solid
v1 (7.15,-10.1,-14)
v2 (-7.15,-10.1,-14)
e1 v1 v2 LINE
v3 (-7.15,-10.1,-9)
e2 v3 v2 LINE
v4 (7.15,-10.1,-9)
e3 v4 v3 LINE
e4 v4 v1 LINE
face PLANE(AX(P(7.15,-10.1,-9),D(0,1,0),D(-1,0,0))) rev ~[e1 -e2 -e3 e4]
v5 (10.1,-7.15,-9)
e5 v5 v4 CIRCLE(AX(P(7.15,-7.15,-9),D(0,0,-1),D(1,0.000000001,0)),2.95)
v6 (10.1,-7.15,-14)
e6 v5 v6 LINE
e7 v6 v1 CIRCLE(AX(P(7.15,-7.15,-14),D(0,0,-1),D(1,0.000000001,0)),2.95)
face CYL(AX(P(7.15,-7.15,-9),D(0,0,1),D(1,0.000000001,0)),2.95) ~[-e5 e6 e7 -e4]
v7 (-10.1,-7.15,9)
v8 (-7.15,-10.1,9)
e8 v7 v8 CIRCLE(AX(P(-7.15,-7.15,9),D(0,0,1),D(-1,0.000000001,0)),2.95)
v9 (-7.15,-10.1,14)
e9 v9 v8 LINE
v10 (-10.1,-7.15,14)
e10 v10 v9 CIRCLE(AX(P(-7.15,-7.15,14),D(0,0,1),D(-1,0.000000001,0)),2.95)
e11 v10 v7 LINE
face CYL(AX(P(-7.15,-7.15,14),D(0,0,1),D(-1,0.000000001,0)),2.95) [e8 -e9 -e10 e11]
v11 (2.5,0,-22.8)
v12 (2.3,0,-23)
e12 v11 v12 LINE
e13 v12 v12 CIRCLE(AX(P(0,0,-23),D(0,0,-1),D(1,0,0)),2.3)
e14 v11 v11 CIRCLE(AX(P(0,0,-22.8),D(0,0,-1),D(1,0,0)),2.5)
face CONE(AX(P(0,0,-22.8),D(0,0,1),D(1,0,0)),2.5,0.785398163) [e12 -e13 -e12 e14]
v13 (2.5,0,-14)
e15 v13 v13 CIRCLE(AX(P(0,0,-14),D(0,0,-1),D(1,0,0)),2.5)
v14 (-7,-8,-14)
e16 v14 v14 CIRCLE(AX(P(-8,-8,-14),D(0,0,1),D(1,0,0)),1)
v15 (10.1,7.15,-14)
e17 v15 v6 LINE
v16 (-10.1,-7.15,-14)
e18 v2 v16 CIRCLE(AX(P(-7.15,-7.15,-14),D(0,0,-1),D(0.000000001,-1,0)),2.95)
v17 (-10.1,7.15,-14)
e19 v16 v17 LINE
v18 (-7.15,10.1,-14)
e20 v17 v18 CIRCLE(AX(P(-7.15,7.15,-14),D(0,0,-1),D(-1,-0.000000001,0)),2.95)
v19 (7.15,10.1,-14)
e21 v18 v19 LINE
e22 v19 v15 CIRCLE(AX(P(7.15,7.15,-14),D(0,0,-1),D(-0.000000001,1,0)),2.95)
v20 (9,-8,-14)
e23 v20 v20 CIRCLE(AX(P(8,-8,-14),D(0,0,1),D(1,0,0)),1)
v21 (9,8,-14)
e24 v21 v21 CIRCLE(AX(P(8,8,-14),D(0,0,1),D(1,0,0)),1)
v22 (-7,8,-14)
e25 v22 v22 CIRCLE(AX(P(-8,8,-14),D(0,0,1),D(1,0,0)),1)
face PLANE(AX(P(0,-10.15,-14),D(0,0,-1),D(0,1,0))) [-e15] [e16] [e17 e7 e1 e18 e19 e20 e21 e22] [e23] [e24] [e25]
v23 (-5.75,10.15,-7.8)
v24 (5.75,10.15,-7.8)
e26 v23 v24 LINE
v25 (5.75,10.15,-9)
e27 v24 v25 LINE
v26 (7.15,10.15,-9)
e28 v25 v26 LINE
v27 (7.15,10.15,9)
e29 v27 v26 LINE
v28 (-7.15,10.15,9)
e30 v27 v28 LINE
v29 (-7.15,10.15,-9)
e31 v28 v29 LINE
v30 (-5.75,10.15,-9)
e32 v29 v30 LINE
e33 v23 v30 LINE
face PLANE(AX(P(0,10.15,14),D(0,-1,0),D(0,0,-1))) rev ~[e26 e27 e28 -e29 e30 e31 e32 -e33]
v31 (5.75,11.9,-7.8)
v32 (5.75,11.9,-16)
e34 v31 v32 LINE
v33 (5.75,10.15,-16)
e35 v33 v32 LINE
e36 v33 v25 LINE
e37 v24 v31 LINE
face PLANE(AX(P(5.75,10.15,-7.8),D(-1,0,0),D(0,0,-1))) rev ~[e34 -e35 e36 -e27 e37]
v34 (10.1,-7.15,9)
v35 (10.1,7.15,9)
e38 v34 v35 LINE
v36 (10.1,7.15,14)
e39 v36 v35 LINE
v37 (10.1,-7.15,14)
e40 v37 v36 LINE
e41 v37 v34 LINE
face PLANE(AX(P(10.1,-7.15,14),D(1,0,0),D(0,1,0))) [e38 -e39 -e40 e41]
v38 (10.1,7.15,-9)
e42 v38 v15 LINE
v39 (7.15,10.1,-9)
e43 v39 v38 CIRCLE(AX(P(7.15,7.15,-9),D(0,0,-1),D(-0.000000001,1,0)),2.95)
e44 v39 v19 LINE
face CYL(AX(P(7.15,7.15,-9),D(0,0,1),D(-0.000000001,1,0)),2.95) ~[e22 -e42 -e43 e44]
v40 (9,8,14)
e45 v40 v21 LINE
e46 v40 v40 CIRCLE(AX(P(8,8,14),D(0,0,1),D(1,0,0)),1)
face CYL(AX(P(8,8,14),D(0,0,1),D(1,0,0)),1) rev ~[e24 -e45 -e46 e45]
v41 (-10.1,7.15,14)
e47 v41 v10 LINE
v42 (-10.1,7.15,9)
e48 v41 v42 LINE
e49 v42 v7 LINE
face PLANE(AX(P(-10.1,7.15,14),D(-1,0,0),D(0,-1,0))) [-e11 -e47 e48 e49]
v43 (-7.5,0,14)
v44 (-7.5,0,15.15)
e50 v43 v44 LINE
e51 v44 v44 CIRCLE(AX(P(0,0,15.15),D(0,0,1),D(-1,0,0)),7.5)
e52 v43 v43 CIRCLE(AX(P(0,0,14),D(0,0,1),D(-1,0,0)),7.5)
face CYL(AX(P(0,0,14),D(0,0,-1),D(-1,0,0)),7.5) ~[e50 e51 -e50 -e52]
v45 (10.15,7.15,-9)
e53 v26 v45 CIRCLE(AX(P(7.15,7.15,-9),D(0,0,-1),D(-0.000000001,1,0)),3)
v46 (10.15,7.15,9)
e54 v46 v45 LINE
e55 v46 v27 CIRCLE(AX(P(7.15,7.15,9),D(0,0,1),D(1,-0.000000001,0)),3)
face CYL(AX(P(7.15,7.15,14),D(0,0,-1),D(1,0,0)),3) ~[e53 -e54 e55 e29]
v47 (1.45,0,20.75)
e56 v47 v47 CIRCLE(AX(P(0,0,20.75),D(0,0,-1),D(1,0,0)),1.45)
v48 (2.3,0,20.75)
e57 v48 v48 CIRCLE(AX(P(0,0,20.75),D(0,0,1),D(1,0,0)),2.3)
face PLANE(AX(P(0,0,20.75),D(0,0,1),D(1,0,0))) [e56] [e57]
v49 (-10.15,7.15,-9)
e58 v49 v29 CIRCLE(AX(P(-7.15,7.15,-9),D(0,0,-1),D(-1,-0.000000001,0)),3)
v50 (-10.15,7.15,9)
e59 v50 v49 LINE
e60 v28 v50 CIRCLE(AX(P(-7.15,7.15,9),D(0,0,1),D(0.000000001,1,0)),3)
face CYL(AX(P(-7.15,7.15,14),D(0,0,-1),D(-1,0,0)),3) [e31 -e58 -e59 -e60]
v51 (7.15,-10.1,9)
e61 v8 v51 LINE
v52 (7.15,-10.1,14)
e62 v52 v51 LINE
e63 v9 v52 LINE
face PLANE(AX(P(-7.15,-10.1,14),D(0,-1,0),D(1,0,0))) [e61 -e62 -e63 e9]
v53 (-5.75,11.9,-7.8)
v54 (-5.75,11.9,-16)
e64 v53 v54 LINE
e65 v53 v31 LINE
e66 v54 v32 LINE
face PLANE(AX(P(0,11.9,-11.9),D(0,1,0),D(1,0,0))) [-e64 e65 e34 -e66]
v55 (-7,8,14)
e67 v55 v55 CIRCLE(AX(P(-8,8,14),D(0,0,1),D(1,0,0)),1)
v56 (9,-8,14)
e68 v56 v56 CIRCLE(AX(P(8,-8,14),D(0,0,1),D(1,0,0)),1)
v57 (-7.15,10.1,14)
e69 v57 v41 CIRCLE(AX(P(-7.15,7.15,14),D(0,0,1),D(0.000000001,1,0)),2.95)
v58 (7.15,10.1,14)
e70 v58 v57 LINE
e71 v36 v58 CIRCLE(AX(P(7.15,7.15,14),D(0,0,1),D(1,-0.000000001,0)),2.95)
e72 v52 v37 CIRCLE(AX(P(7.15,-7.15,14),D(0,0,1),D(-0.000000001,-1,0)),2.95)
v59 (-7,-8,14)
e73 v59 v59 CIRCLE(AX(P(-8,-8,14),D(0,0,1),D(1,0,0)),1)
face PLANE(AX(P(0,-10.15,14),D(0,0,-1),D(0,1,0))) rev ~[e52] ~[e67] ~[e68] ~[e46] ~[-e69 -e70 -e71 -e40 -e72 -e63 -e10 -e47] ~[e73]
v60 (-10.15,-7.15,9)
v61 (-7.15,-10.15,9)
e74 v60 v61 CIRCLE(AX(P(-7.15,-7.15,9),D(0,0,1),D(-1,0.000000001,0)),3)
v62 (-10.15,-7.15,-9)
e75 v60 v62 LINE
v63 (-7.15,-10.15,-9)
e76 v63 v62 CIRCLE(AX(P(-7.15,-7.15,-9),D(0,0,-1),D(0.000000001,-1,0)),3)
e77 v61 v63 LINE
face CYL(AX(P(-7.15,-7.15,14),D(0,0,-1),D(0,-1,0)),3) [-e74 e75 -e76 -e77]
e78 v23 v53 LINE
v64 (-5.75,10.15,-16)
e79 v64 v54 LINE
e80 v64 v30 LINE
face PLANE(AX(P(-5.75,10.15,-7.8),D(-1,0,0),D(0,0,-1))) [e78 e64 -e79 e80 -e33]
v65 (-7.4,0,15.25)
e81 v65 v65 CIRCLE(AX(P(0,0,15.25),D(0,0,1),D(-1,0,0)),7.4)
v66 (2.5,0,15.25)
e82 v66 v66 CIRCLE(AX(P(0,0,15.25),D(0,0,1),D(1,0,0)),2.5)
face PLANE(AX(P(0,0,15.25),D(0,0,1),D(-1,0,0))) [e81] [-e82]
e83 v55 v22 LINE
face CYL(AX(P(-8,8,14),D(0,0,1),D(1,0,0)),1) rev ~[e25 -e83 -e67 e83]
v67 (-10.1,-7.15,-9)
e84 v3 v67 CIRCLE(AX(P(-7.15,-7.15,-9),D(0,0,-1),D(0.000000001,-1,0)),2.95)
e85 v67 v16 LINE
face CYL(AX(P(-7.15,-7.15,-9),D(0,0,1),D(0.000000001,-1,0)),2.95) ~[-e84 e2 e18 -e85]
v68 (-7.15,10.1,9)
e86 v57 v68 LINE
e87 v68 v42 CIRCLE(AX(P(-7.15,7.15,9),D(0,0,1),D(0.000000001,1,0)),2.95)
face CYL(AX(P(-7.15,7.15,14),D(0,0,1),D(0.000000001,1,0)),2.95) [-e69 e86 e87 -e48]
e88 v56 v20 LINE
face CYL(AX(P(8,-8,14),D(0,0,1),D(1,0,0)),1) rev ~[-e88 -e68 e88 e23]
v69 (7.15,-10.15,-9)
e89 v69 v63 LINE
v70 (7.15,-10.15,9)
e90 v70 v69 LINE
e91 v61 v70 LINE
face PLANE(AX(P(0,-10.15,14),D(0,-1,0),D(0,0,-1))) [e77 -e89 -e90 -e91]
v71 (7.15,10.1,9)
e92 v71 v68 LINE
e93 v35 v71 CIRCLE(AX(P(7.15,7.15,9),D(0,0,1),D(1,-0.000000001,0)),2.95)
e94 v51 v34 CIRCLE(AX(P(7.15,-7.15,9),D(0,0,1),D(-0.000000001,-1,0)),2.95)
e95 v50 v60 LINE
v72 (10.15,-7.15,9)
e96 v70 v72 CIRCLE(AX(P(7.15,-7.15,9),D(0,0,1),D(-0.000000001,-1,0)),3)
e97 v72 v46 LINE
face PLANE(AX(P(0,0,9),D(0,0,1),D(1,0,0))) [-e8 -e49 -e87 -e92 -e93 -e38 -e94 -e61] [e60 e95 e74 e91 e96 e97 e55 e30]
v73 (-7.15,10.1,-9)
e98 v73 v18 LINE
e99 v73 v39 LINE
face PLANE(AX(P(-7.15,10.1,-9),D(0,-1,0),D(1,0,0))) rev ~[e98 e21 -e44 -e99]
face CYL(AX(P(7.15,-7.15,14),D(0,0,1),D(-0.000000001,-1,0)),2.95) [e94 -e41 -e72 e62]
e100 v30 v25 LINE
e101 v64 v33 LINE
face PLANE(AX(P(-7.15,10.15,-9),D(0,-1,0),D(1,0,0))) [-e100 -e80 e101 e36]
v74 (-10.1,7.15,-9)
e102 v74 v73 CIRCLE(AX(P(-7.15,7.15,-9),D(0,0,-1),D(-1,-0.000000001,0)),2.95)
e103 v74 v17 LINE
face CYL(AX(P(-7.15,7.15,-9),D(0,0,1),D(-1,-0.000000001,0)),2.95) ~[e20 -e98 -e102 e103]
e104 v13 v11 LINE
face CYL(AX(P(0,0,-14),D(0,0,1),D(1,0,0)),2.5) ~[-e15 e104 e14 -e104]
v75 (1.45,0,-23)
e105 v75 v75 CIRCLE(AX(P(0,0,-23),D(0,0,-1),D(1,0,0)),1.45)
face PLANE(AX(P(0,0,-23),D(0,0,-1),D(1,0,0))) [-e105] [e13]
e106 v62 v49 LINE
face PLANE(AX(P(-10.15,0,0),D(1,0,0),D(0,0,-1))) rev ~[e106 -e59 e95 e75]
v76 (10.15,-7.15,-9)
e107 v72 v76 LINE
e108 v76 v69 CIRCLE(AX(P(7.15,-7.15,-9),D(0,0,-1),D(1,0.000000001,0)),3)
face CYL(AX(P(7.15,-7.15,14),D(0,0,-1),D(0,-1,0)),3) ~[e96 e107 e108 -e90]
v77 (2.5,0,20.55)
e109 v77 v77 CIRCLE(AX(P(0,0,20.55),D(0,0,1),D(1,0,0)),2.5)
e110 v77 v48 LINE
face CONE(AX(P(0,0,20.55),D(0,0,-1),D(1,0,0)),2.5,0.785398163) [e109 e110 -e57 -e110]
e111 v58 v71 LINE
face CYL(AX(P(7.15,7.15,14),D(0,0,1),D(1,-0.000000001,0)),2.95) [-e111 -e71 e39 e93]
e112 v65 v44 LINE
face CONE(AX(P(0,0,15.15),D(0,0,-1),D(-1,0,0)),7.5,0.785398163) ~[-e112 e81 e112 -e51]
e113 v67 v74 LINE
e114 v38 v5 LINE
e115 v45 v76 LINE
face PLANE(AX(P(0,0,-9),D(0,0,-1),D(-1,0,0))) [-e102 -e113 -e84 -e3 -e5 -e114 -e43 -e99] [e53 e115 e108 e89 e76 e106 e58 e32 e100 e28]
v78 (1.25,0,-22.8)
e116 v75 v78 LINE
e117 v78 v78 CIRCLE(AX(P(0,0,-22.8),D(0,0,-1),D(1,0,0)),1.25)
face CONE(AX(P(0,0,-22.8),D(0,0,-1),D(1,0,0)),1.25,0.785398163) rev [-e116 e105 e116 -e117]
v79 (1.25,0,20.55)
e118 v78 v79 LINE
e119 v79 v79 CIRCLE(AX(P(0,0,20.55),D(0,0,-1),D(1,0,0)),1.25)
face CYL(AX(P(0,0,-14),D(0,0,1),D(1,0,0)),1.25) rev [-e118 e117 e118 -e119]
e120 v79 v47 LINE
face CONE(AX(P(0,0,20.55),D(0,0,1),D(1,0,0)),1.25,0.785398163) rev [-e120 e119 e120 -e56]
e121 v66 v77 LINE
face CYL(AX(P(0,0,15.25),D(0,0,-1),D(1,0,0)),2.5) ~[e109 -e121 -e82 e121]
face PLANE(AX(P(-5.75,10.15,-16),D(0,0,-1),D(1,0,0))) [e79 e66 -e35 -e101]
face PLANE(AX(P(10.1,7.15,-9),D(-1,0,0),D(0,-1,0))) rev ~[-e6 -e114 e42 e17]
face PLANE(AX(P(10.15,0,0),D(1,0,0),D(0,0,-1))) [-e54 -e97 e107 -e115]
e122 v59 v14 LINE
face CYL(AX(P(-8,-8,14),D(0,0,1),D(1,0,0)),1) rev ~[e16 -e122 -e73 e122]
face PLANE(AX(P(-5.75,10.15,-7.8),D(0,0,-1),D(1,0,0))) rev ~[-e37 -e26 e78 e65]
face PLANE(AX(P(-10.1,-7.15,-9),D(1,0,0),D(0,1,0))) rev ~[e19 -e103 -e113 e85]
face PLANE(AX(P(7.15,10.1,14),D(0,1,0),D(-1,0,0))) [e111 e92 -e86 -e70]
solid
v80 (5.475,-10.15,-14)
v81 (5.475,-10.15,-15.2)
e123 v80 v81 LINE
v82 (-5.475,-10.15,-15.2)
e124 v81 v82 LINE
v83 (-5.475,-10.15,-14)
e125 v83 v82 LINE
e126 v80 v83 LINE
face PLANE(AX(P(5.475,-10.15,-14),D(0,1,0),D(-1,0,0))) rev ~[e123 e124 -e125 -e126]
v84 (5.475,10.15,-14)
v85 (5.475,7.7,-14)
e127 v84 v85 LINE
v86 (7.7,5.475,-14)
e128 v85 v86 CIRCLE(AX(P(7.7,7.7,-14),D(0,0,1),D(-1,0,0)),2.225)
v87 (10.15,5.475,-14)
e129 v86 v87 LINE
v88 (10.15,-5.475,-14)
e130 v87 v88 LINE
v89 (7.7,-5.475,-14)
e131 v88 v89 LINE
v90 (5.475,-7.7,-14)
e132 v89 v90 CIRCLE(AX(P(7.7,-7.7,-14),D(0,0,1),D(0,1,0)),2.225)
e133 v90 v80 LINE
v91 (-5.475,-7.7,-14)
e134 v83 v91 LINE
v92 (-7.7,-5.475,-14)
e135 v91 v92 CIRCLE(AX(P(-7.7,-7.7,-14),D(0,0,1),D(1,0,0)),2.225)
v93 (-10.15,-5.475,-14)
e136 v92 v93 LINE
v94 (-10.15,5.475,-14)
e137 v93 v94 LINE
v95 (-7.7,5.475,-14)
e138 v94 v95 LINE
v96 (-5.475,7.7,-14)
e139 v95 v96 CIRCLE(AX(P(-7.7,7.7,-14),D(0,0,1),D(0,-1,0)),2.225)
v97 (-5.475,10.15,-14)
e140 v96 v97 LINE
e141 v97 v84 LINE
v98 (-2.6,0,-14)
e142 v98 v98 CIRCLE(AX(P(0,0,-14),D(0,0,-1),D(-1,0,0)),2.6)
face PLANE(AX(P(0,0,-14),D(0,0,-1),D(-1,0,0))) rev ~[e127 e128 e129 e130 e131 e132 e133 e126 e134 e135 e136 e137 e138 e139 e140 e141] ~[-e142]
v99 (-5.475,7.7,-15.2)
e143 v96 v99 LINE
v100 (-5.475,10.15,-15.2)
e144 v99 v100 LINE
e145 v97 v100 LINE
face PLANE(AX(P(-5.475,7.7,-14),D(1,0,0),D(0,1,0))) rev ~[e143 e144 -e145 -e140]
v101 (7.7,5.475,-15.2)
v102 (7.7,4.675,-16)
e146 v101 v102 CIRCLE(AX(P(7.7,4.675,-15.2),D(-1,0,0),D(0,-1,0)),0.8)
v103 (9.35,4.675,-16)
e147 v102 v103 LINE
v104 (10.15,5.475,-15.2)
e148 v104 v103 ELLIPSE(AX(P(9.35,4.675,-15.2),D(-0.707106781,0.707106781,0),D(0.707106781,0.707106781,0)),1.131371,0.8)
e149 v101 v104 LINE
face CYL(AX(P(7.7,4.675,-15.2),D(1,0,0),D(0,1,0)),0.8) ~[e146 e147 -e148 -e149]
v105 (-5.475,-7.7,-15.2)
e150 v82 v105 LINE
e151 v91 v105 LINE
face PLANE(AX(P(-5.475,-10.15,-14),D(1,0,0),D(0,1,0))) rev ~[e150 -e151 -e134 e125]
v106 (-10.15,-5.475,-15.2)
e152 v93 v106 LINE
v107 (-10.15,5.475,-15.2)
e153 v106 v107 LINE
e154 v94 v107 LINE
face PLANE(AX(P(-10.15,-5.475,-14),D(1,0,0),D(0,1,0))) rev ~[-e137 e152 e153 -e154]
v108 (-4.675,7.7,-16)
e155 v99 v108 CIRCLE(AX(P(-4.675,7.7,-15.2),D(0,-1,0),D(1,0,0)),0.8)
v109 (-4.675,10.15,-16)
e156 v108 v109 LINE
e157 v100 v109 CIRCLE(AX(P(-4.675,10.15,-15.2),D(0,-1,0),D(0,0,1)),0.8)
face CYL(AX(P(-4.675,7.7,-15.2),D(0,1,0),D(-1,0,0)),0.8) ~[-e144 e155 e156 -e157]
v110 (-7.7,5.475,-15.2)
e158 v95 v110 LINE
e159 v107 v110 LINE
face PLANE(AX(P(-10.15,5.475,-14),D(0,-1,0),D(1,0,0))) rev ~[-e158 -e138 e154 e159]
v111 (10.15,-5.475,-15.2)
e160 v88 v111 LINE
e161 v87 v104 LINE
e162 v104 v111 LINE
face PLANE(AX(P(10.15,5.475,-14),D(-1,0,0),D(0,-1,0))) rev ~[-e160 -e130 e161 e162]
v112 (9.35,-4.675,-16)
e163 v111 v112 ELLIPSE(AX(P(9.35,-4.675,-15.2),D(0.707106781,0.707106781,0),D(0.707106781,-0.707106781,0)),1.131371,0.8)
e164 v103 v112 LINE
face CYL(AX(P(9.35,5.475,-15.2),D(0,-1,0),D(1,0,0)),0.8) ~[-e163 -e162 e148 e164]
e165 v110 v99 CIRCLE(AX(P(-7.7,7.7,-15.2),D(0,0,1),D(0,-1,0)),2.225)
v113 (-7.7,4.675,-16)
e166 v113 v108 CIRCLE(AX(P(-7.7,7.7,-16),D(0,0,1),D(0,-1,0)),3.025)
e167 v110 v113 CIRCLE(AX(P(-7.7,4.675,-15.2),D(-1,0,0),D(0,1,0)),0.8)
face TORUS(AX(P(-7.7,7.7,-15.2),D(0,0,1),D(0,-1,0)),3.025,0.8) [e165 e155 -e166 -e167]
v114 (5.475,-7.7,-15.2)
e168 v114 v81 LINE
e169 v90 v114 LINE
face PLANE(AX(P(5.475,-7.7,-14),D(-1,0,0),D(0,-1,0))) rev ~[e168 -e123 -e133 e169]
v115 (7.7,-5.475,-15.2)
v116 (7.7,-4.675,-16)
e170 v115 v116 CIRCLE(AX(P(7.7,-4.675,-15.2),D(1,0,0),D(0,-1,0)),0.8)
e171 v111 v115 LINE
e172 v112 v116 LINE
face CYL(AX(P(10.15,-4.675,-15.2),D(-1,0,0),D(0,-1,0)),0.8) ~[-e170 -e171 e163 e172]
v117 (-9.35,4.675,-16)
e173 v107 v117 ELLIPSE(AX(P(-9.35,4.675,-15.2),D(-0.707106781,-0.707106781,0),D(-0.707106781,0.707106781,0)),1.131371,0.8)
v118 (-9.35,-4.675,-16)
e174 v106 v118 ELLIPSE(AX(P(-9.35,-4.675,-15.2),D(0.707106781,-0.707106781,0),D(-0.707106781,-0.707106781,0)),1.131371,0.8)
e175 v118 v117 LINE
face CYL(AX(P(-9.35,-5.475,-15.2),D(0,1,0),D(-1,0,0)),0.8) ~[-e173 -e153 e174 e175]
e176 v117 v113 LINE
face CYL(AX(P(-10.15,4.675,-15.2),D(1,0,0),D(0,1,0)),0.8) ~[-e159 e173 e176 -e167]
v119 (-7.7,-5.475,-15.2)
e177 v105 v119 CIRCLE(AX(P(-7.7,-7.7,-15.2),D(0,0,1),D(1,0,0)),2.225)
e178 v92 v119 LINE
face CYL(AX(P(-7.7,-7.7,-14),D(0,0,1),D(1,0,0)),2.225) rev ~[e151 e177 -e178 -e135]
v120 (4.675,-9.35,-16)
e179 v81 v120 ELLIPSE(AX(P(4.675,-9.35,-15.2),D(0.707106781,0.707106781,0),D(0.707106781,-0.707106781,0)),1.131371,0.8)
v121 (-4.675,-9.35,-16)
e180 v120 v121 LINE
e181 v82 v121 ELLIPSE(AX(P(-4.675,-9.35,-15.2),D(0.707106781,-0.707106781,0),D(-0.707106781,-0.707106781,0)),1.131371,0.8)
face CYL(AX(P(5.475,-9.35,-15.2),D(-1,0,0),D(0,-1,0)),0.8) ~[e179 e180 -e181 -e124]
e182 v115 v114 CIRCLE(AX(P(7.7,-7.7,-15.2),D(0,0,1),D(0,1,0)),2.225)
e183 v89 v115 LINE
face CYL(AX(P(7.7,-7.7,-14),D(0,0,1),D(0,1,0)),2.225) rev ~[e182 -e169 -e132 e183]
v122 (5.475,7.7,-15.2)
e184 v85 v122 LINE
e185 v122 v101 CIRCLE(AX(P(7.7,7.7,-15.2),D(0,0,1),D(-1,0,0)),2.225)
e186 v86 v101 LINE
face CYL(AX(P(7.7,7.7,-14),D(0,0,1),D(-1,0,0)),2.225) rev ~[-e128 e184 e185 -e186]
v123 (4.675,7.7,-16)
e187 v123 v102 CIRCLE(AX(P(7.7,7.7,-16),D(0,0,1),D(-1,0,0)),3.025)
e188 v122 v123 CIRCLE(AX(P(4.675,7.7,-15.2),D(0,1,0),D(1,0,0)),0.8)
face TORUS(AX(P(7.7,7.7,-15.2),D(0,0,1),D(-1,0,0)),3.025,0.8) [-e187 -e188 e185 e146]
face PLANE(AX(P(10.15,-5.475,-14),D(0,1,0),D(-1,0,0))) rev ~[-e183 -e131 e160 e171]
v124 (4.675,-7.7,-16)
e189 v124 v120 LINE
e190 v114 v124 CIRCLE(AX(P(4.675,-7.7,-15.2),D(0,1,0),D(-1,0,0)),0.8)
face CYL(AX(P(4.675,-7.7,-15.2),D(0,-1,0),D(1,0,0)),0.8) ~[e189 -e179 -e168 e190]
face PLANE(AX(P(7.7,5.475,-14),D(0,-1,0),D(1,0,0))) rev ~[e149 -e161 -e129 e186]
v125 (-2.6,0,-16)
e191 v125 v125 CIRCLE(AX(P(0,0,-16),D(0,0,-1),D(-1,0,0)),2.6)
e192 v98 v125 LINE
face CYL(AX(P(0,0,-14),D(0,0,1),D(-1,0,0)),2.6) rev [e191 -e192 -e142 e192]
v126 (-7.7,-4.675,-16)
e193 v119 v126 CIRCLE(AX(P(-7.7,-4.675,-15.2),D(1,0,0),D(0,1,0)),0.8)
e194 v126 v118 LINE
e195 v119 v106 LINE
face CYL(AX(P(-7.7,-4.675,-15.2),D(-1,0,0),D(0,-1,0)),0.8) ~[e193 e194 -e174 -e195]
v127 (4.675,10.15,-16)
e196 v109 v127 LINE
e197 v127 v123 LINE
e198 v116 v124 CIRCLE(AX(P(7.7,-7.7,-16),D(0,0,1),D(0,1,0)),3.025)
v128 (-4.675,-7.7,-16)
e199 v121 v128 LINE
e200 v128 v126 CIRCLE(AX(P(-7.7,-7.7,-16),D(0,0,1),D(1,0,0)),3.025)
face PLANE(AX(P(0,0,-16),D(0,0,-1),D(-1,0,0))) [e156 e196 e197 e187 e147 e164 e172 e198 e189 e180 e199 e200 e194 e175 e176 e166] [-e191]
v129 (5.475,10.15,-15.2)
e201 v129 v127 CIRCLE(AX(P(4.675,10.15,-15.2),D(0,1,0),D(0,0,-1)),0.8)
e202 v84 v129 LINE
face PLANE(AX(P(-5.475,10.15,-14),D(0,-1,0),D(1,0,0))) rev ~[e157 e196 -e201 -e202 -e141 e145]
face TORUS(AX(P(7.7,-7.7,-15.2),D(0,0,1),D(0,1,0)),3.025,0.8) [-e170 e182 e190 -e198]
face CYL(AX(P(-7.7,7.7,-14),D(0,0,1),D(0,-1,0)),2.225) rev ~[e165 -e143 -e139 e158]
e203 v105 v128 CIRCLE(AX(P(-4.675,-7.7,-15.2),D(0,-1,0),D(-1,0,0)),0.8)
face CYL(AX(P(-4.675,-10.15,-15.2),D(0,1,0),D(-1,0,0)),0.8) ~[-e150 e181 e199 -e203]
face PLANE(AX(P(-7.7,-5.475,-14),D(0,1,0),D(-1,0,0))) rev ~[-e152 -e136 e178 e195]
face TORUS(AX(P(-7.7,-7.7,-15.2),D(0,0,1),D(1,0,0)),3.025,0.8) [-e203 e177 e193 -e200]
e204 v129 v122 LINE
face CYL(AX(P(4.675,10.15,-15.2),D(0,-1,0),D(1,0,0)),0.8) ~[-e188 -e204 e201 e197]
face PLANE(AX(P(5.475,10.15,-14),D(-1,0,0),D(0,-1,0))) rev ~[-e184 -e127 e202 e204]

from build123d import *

# Parameters (mm, degrees)
SKETCH1_W               = 28
SKETCH1_H               = 20.3
BOSS_EXTRUDE1_DEPTH     = 10.15
SKETCH2_R               = 7.5
BOSS_EXTRUDE2_DEPTH     = 1.25
SKETCH3_R               = 2.5
BOSS_EXTRUDE3_DEPTH     = 5.5
CUT_EXTRUDE1_DEPTH      = 38.59797202
CUT_EXTRUDE1_DEPTH_BACK = 38.59797202
SKETCH4_R               = 1.25
CHAMFER1_SIZE           = 0.2
SKETCH6_R               = 2.5
SKETCH6_R_2             = 1.25
BOSS_EXTRUDE4_DEPTH     = 9
CHAMFER4_SIZE           = 0.2
SKETCH7_R               = 1
CUT_EXTRUDE2_DEPTH      = 40.686836609
FILLET1_R               = 3
SKETCH10_R              = 2.6
BOSS_EXTRUDE5_DEPTH     = 2
FILLET2_R               = 0.8
SKETCH13_W              = 11.5
SKETCH13_H              = 8.2
BOSS_EXTRUDE7_DEPTH     = 1.75
CUT_EXTRUDE5_DEPTH      = 5
CUT_EXTRUDE6_START      = -5
CUT_EXTRUDE6_DEPTH      = 5
CHAMFER5_SIZE           = 0.1


with BuildPart() as part:
    # Sketch1 → Boss-Extrude1 (new, symmetric)
    with BuildSketch(Plane(origin=(0, 0, 0), x_dir=(0, 0, -1), z_dir=(1, 0, 0))):
        Rectangle(SKETCH1_W, SKETCH1_H)
    extrude(amount=BOSS_EXTRUDE1_DEPTH, both=True)

    # Sketch2 → Boss-Extrude2 (add)
    with BuildSketch(Plane.XY.offset(14)):
        with Locations(Location((0, 0, 0), (0, 0, 180))):
            Circle(SKETCH2_R)
    extrude(amount=BOSS_EXTRUDE2_DEPTH)

    # Sketch3 → Boss-Extrude3 (add)
    with BuildSketch(Plane.XY.offset(15.25)):
        Circle(SKETCH3_R)
    extrude(amount=BOSS_EXTRUDE3_DEPTH)

    # Sketch4 → Cut-Extrude1 (cut, two sides: drawn at the far end of the back side and taken through both)
    with BuildSketch(Plane.XY.offset(20.75).offset(-CUT_EXTRUDE1_DEPTH_BACK)):
        Circle(SKETCH4_R)
    extrude(amount=CUT_EXTRUDE1_DEPTH + CUT_EXTRUDE1_DEPTH_BACK, mode=Mode.SUBTRACT)

    # Chamfer1
    chamfer1_edges = [part.edges().sort_by_distance(p)[0] for p in [
        (-2.5, 0, 20.75),
        (-1.25, 0, 20.75),
    ]]
    chamfer(chamfer1_edges, length=CHAMFER1_SIZE)

    # Sketch6 → Boss-Extrude4 (add)
    with BuildSketch(Plane(origin=(0, 0, -14), x_dir=(-1, 0, 0), z_dir=(0, 0, -1))):
        with Locations(Location((0, 0, 0), (0, 0, 180))):
            Circle(SKETCH6_R)
        with Locations(Location((0, 0, 0), (0, 0, 180))):
            Circle(SKETCH6_R_2, mode=Mode.SUBTRACT)
    extrude(amount=BOSS_EXTRUDE4_DEPTH)

    # Chamfer4
    chamfer4_edges = [part.edges().sort_by_distance(p)[0] for p in [
        (-2.5, 0, -23),
        (-1.25, 0, -23),
    ]]
    chamfer(chamfer4_edges, length=CHAMFER4_SIZE)

    # Sketch7 → Cut-Extrude2 (cut, through all)
    with BuildSketch(Plane.XY.offset(14)):
        with Locations((-8, 8)):
            Circle(SKETCH7_R)
        with Locations((8, 8)):
            Circle(SKETCH7_R)
        with Locations((8, -8)):
            Circle(SKETCH7_R)
        with Locations((-8, -8)):
            Circle(SKETCH7_R)
    extrude(amount=-CUT_EXTRUDE2_DEPTH, mode=Mode.SUBTRACT)

    # Fillet1
    fillet1_edges = [part.edges().sort_by_distance(p)[0] for p in [
        (10.15, -10.15, 0),
        (-10.15, -10.15, 0),
        (-10.15, 10.15, 0),
        (10.15, 10.15, 0),
    ]]
    fillet(fillet1_edges, radius=FILLET1_R)

    # Sketch13 → Boss-Extrude7 (add)
    with BuildSketch(Plane(origin=(0, 10.15, 0), x_dir=(1, 0, 0), z_dir=(0, 1, 0))):
        with Locations((0, 11.9)):
            Rectangle(SKETCH13_W, SKETCH13_H)
    extrude(amount=BOSS_EXTRUDE7_DEPTH)

    # Sketch14 → Cut-Extrude5 (cut)
    with BuildSketch(Plane.XY.offset(14)):
        with BuildLine():
            Line((10.15, -7.15), (10.15, 7.15))
            ThreePointArc((10.15, 7.15), (9.271320344, 9.271320344), (7.15, 10.15))
            Line((7.15, 10.15), (-7.15, 10.15))
            ThreePointArc((-7.15, 10.15), (-9.271320344, 9.271320344), (-10.15, 7.15))
            Line((-10.15, 7.15), (-10.15, -7.15))
            ThreePointArc((-10.15, -7.15), (-9.271320344, -9.271320344), (-7.15, -10.15))
            Line((-7.15, -10.15), (7.15, -10.15))
            ThreePointArc((7.15, -10.15), (9.271320344, -9.271320344), (10.15, -7.15))
        make_face()
        with BuildLine():
            Line((10.1, -7.15), (10.1, 7.15))
            ThreePointArc((10.1, 7.15), (9.235965005, 9.235965005), (7.15, 10.1))
            Line((7.15, 10.1), (-7.15, 10.1))
            ThreePointArc((-7.15, 10.1), (-9.235965005, 9.235965005), (-10.1, 7.15))
            Line((-10.1, 7.15), (-10.1, -7.15))
            ThreePointArc((-10.1, -7.15), (-9.235965005, -9.235965005), (-7.15, -10.1))
            Line((-7.15, -10.1), (7.15, -10.1))
            ThreePointArc((7.15, -10.1), (9.235965005, -9.235965005), (10.1, -7.15))
        make_face(mode=Mode.SUBTRACT)
    extrude(amount=-CUT_EXTRUDE5_DEPTH, mode=Mode.SUBTRACT)

    # Sketch15 → Cut-Extrude6 (cut)
    with BuildSketch(Plane(origin=(0, 0, -14), x_dir=(-1, 0, 0), z_dir=(0, 0, -1)).offset(CUT_EXTRUDE6_START)):
        with BuildLine():
            Line((7.15, 10.15), (5.75, 10.15))
            Line((5.75, 10.15), (-5.75, 10.15))
            Line((-5.75, 10.15), (-7.15, 10.15))
            ThreePointArc((-7.15, 10.15), (-9.271320344, 9.271320344), (-10.15, 7.15))
            Line((-10.15, 7.15), (-10.15, -7.15))
            ThreePointArc((-10.15, -7.15), (-9.271320344, -9.271320344), (-7.15, -10.15))
            Line((-7.15, -10.15), (7.15, -10.15))
            ThreePointArc((7.15, -10.15), (9.271320344, -9.271320344), (10.15, -7.15))
            Line((10.15, -7.15), (10.15, 7.15))
            ThreePointArc((10.15, 7.15), (9.271320344, 9.271320344), (7.15, 10.15))
        make_face()
        with BuildLine():
            Line((-10.1, 7.15), (-10.1, -7.15))
            ThreePointArc((-10.1, -7.15), (-9.235965005, -9.235965005), (-7.15, -10.1))
            Line((-7.15, -10.1), (7.15, -10.1))
            ThreePointArc((7.15, -10.1), (9.235965005, -9.235965005), (10.1, -7.15))
            Line((10.1, -7.15), (10.1, 7.15))
            ThreePointArc((10.1, 7.15), (9.235965005, 9.235965005), (7.15, 10.1))
            Line((7.15, 10.1), (-7.15, 10.1))
            ThreePointArc((-7.15, 10.1), (-9.235965005, 9.235965005), (-10.1, 7.15))
        make_face(mode=Mode.SUBTRACT)
    extrude(amount=CUT_EXTRUDE6_DEPTH, mode=Mode.SUBTRACT)

    # Chamfer5
    chamfer5_edges = [part.edges().sort_by_distance(p)[0] for p in [
        (7.5, 0, 15.25),
    ]]
    chamfer(chamfer5_edges, length=CHAMFER5_SIZE)


with BuildPart() as body_2:
    # Sketch10 → Boss-Extrude5 (new body)
    with BuildSketch(Plane(origin=(0, 0, -14), x_dir=(-1, 0, 0), z_dir=(0, 0, -1))):
        with BuildLine():
            Line((-7.7, 5.475), (-10.15, 5.475))
            Line((-10.15, 5.475), (-10.15, -5.475))
            Line((-10.15, -5.475), (-7.7, -5.475))
            ThreePointArc((-7.7, -5.475), (-6.126687412, -6.126687412), (-5.475, -7.7))
            Line((-5.475, -7.7), (-5.475, -10.15))
            Line((-5.475, -10.15), (5.475, -10.15))
            Line((5.475, -10.15), (5.475, -7.7))
            ThreePointArc((5.475, -7.7), (6.126687412, -6.126687412), (7.7, -5.475))
            Line((7.7, -5.475), (10.15, -5.475))
            Line((10.15, -5.475), (10.15, 5.475))
            Line((10.15, 5.475), (7.7, 5.475))
            ThreePointArc((7.7, 5.475), (6.126687412, 6.126687412), (5.475, 7.7))
            Line((5.475, 7.7), (5.475, 10.15))
            Line((5.475, 10.15), (-5.475, 10.15))
            Line((-5.475, 10.15), (-5.475, 7.7))
            ThreePointArc((-5.475, 7.7), (-6.126687412, 6.126687412), (-7.7, 5.475))
        make_face()
        Circle(SKETCH10_R, mode=Mode.SUBTRACT)
    extrude(amount=BOSS_EXTRUDE5_DEPTH)

    # Fillet2
    fillet2_edges = [body_2.edges().sort_by_distance(p)[0] for p in [
        (5.475, 8.925, -16),
        (6.126687412, 6.126687412, -16),
        (8.925, 5.475, -16),
        (10.15, 0, -16),
        (8.925, -5.475, -16),
        (6.126687412, -6.126687412, -16),
        (5.475, -8.925, -16),
        (0, -10.15, -16),
        (-5.475, -8.925, -16),
        (-6.126687412, -6.126687412, -16),
        (-8.925, -5.475, -16),
        (-10.15, 0, -16),
        (-8.925, 5.475, -16),
        (-6.126687412, 6.126687412, -16),
        (-5.475, 8.925, -16),
    ]]
    fillet(fillet2_edges, radius=FILLET2_R)


solid = Compound([part.part, body_2.part])
